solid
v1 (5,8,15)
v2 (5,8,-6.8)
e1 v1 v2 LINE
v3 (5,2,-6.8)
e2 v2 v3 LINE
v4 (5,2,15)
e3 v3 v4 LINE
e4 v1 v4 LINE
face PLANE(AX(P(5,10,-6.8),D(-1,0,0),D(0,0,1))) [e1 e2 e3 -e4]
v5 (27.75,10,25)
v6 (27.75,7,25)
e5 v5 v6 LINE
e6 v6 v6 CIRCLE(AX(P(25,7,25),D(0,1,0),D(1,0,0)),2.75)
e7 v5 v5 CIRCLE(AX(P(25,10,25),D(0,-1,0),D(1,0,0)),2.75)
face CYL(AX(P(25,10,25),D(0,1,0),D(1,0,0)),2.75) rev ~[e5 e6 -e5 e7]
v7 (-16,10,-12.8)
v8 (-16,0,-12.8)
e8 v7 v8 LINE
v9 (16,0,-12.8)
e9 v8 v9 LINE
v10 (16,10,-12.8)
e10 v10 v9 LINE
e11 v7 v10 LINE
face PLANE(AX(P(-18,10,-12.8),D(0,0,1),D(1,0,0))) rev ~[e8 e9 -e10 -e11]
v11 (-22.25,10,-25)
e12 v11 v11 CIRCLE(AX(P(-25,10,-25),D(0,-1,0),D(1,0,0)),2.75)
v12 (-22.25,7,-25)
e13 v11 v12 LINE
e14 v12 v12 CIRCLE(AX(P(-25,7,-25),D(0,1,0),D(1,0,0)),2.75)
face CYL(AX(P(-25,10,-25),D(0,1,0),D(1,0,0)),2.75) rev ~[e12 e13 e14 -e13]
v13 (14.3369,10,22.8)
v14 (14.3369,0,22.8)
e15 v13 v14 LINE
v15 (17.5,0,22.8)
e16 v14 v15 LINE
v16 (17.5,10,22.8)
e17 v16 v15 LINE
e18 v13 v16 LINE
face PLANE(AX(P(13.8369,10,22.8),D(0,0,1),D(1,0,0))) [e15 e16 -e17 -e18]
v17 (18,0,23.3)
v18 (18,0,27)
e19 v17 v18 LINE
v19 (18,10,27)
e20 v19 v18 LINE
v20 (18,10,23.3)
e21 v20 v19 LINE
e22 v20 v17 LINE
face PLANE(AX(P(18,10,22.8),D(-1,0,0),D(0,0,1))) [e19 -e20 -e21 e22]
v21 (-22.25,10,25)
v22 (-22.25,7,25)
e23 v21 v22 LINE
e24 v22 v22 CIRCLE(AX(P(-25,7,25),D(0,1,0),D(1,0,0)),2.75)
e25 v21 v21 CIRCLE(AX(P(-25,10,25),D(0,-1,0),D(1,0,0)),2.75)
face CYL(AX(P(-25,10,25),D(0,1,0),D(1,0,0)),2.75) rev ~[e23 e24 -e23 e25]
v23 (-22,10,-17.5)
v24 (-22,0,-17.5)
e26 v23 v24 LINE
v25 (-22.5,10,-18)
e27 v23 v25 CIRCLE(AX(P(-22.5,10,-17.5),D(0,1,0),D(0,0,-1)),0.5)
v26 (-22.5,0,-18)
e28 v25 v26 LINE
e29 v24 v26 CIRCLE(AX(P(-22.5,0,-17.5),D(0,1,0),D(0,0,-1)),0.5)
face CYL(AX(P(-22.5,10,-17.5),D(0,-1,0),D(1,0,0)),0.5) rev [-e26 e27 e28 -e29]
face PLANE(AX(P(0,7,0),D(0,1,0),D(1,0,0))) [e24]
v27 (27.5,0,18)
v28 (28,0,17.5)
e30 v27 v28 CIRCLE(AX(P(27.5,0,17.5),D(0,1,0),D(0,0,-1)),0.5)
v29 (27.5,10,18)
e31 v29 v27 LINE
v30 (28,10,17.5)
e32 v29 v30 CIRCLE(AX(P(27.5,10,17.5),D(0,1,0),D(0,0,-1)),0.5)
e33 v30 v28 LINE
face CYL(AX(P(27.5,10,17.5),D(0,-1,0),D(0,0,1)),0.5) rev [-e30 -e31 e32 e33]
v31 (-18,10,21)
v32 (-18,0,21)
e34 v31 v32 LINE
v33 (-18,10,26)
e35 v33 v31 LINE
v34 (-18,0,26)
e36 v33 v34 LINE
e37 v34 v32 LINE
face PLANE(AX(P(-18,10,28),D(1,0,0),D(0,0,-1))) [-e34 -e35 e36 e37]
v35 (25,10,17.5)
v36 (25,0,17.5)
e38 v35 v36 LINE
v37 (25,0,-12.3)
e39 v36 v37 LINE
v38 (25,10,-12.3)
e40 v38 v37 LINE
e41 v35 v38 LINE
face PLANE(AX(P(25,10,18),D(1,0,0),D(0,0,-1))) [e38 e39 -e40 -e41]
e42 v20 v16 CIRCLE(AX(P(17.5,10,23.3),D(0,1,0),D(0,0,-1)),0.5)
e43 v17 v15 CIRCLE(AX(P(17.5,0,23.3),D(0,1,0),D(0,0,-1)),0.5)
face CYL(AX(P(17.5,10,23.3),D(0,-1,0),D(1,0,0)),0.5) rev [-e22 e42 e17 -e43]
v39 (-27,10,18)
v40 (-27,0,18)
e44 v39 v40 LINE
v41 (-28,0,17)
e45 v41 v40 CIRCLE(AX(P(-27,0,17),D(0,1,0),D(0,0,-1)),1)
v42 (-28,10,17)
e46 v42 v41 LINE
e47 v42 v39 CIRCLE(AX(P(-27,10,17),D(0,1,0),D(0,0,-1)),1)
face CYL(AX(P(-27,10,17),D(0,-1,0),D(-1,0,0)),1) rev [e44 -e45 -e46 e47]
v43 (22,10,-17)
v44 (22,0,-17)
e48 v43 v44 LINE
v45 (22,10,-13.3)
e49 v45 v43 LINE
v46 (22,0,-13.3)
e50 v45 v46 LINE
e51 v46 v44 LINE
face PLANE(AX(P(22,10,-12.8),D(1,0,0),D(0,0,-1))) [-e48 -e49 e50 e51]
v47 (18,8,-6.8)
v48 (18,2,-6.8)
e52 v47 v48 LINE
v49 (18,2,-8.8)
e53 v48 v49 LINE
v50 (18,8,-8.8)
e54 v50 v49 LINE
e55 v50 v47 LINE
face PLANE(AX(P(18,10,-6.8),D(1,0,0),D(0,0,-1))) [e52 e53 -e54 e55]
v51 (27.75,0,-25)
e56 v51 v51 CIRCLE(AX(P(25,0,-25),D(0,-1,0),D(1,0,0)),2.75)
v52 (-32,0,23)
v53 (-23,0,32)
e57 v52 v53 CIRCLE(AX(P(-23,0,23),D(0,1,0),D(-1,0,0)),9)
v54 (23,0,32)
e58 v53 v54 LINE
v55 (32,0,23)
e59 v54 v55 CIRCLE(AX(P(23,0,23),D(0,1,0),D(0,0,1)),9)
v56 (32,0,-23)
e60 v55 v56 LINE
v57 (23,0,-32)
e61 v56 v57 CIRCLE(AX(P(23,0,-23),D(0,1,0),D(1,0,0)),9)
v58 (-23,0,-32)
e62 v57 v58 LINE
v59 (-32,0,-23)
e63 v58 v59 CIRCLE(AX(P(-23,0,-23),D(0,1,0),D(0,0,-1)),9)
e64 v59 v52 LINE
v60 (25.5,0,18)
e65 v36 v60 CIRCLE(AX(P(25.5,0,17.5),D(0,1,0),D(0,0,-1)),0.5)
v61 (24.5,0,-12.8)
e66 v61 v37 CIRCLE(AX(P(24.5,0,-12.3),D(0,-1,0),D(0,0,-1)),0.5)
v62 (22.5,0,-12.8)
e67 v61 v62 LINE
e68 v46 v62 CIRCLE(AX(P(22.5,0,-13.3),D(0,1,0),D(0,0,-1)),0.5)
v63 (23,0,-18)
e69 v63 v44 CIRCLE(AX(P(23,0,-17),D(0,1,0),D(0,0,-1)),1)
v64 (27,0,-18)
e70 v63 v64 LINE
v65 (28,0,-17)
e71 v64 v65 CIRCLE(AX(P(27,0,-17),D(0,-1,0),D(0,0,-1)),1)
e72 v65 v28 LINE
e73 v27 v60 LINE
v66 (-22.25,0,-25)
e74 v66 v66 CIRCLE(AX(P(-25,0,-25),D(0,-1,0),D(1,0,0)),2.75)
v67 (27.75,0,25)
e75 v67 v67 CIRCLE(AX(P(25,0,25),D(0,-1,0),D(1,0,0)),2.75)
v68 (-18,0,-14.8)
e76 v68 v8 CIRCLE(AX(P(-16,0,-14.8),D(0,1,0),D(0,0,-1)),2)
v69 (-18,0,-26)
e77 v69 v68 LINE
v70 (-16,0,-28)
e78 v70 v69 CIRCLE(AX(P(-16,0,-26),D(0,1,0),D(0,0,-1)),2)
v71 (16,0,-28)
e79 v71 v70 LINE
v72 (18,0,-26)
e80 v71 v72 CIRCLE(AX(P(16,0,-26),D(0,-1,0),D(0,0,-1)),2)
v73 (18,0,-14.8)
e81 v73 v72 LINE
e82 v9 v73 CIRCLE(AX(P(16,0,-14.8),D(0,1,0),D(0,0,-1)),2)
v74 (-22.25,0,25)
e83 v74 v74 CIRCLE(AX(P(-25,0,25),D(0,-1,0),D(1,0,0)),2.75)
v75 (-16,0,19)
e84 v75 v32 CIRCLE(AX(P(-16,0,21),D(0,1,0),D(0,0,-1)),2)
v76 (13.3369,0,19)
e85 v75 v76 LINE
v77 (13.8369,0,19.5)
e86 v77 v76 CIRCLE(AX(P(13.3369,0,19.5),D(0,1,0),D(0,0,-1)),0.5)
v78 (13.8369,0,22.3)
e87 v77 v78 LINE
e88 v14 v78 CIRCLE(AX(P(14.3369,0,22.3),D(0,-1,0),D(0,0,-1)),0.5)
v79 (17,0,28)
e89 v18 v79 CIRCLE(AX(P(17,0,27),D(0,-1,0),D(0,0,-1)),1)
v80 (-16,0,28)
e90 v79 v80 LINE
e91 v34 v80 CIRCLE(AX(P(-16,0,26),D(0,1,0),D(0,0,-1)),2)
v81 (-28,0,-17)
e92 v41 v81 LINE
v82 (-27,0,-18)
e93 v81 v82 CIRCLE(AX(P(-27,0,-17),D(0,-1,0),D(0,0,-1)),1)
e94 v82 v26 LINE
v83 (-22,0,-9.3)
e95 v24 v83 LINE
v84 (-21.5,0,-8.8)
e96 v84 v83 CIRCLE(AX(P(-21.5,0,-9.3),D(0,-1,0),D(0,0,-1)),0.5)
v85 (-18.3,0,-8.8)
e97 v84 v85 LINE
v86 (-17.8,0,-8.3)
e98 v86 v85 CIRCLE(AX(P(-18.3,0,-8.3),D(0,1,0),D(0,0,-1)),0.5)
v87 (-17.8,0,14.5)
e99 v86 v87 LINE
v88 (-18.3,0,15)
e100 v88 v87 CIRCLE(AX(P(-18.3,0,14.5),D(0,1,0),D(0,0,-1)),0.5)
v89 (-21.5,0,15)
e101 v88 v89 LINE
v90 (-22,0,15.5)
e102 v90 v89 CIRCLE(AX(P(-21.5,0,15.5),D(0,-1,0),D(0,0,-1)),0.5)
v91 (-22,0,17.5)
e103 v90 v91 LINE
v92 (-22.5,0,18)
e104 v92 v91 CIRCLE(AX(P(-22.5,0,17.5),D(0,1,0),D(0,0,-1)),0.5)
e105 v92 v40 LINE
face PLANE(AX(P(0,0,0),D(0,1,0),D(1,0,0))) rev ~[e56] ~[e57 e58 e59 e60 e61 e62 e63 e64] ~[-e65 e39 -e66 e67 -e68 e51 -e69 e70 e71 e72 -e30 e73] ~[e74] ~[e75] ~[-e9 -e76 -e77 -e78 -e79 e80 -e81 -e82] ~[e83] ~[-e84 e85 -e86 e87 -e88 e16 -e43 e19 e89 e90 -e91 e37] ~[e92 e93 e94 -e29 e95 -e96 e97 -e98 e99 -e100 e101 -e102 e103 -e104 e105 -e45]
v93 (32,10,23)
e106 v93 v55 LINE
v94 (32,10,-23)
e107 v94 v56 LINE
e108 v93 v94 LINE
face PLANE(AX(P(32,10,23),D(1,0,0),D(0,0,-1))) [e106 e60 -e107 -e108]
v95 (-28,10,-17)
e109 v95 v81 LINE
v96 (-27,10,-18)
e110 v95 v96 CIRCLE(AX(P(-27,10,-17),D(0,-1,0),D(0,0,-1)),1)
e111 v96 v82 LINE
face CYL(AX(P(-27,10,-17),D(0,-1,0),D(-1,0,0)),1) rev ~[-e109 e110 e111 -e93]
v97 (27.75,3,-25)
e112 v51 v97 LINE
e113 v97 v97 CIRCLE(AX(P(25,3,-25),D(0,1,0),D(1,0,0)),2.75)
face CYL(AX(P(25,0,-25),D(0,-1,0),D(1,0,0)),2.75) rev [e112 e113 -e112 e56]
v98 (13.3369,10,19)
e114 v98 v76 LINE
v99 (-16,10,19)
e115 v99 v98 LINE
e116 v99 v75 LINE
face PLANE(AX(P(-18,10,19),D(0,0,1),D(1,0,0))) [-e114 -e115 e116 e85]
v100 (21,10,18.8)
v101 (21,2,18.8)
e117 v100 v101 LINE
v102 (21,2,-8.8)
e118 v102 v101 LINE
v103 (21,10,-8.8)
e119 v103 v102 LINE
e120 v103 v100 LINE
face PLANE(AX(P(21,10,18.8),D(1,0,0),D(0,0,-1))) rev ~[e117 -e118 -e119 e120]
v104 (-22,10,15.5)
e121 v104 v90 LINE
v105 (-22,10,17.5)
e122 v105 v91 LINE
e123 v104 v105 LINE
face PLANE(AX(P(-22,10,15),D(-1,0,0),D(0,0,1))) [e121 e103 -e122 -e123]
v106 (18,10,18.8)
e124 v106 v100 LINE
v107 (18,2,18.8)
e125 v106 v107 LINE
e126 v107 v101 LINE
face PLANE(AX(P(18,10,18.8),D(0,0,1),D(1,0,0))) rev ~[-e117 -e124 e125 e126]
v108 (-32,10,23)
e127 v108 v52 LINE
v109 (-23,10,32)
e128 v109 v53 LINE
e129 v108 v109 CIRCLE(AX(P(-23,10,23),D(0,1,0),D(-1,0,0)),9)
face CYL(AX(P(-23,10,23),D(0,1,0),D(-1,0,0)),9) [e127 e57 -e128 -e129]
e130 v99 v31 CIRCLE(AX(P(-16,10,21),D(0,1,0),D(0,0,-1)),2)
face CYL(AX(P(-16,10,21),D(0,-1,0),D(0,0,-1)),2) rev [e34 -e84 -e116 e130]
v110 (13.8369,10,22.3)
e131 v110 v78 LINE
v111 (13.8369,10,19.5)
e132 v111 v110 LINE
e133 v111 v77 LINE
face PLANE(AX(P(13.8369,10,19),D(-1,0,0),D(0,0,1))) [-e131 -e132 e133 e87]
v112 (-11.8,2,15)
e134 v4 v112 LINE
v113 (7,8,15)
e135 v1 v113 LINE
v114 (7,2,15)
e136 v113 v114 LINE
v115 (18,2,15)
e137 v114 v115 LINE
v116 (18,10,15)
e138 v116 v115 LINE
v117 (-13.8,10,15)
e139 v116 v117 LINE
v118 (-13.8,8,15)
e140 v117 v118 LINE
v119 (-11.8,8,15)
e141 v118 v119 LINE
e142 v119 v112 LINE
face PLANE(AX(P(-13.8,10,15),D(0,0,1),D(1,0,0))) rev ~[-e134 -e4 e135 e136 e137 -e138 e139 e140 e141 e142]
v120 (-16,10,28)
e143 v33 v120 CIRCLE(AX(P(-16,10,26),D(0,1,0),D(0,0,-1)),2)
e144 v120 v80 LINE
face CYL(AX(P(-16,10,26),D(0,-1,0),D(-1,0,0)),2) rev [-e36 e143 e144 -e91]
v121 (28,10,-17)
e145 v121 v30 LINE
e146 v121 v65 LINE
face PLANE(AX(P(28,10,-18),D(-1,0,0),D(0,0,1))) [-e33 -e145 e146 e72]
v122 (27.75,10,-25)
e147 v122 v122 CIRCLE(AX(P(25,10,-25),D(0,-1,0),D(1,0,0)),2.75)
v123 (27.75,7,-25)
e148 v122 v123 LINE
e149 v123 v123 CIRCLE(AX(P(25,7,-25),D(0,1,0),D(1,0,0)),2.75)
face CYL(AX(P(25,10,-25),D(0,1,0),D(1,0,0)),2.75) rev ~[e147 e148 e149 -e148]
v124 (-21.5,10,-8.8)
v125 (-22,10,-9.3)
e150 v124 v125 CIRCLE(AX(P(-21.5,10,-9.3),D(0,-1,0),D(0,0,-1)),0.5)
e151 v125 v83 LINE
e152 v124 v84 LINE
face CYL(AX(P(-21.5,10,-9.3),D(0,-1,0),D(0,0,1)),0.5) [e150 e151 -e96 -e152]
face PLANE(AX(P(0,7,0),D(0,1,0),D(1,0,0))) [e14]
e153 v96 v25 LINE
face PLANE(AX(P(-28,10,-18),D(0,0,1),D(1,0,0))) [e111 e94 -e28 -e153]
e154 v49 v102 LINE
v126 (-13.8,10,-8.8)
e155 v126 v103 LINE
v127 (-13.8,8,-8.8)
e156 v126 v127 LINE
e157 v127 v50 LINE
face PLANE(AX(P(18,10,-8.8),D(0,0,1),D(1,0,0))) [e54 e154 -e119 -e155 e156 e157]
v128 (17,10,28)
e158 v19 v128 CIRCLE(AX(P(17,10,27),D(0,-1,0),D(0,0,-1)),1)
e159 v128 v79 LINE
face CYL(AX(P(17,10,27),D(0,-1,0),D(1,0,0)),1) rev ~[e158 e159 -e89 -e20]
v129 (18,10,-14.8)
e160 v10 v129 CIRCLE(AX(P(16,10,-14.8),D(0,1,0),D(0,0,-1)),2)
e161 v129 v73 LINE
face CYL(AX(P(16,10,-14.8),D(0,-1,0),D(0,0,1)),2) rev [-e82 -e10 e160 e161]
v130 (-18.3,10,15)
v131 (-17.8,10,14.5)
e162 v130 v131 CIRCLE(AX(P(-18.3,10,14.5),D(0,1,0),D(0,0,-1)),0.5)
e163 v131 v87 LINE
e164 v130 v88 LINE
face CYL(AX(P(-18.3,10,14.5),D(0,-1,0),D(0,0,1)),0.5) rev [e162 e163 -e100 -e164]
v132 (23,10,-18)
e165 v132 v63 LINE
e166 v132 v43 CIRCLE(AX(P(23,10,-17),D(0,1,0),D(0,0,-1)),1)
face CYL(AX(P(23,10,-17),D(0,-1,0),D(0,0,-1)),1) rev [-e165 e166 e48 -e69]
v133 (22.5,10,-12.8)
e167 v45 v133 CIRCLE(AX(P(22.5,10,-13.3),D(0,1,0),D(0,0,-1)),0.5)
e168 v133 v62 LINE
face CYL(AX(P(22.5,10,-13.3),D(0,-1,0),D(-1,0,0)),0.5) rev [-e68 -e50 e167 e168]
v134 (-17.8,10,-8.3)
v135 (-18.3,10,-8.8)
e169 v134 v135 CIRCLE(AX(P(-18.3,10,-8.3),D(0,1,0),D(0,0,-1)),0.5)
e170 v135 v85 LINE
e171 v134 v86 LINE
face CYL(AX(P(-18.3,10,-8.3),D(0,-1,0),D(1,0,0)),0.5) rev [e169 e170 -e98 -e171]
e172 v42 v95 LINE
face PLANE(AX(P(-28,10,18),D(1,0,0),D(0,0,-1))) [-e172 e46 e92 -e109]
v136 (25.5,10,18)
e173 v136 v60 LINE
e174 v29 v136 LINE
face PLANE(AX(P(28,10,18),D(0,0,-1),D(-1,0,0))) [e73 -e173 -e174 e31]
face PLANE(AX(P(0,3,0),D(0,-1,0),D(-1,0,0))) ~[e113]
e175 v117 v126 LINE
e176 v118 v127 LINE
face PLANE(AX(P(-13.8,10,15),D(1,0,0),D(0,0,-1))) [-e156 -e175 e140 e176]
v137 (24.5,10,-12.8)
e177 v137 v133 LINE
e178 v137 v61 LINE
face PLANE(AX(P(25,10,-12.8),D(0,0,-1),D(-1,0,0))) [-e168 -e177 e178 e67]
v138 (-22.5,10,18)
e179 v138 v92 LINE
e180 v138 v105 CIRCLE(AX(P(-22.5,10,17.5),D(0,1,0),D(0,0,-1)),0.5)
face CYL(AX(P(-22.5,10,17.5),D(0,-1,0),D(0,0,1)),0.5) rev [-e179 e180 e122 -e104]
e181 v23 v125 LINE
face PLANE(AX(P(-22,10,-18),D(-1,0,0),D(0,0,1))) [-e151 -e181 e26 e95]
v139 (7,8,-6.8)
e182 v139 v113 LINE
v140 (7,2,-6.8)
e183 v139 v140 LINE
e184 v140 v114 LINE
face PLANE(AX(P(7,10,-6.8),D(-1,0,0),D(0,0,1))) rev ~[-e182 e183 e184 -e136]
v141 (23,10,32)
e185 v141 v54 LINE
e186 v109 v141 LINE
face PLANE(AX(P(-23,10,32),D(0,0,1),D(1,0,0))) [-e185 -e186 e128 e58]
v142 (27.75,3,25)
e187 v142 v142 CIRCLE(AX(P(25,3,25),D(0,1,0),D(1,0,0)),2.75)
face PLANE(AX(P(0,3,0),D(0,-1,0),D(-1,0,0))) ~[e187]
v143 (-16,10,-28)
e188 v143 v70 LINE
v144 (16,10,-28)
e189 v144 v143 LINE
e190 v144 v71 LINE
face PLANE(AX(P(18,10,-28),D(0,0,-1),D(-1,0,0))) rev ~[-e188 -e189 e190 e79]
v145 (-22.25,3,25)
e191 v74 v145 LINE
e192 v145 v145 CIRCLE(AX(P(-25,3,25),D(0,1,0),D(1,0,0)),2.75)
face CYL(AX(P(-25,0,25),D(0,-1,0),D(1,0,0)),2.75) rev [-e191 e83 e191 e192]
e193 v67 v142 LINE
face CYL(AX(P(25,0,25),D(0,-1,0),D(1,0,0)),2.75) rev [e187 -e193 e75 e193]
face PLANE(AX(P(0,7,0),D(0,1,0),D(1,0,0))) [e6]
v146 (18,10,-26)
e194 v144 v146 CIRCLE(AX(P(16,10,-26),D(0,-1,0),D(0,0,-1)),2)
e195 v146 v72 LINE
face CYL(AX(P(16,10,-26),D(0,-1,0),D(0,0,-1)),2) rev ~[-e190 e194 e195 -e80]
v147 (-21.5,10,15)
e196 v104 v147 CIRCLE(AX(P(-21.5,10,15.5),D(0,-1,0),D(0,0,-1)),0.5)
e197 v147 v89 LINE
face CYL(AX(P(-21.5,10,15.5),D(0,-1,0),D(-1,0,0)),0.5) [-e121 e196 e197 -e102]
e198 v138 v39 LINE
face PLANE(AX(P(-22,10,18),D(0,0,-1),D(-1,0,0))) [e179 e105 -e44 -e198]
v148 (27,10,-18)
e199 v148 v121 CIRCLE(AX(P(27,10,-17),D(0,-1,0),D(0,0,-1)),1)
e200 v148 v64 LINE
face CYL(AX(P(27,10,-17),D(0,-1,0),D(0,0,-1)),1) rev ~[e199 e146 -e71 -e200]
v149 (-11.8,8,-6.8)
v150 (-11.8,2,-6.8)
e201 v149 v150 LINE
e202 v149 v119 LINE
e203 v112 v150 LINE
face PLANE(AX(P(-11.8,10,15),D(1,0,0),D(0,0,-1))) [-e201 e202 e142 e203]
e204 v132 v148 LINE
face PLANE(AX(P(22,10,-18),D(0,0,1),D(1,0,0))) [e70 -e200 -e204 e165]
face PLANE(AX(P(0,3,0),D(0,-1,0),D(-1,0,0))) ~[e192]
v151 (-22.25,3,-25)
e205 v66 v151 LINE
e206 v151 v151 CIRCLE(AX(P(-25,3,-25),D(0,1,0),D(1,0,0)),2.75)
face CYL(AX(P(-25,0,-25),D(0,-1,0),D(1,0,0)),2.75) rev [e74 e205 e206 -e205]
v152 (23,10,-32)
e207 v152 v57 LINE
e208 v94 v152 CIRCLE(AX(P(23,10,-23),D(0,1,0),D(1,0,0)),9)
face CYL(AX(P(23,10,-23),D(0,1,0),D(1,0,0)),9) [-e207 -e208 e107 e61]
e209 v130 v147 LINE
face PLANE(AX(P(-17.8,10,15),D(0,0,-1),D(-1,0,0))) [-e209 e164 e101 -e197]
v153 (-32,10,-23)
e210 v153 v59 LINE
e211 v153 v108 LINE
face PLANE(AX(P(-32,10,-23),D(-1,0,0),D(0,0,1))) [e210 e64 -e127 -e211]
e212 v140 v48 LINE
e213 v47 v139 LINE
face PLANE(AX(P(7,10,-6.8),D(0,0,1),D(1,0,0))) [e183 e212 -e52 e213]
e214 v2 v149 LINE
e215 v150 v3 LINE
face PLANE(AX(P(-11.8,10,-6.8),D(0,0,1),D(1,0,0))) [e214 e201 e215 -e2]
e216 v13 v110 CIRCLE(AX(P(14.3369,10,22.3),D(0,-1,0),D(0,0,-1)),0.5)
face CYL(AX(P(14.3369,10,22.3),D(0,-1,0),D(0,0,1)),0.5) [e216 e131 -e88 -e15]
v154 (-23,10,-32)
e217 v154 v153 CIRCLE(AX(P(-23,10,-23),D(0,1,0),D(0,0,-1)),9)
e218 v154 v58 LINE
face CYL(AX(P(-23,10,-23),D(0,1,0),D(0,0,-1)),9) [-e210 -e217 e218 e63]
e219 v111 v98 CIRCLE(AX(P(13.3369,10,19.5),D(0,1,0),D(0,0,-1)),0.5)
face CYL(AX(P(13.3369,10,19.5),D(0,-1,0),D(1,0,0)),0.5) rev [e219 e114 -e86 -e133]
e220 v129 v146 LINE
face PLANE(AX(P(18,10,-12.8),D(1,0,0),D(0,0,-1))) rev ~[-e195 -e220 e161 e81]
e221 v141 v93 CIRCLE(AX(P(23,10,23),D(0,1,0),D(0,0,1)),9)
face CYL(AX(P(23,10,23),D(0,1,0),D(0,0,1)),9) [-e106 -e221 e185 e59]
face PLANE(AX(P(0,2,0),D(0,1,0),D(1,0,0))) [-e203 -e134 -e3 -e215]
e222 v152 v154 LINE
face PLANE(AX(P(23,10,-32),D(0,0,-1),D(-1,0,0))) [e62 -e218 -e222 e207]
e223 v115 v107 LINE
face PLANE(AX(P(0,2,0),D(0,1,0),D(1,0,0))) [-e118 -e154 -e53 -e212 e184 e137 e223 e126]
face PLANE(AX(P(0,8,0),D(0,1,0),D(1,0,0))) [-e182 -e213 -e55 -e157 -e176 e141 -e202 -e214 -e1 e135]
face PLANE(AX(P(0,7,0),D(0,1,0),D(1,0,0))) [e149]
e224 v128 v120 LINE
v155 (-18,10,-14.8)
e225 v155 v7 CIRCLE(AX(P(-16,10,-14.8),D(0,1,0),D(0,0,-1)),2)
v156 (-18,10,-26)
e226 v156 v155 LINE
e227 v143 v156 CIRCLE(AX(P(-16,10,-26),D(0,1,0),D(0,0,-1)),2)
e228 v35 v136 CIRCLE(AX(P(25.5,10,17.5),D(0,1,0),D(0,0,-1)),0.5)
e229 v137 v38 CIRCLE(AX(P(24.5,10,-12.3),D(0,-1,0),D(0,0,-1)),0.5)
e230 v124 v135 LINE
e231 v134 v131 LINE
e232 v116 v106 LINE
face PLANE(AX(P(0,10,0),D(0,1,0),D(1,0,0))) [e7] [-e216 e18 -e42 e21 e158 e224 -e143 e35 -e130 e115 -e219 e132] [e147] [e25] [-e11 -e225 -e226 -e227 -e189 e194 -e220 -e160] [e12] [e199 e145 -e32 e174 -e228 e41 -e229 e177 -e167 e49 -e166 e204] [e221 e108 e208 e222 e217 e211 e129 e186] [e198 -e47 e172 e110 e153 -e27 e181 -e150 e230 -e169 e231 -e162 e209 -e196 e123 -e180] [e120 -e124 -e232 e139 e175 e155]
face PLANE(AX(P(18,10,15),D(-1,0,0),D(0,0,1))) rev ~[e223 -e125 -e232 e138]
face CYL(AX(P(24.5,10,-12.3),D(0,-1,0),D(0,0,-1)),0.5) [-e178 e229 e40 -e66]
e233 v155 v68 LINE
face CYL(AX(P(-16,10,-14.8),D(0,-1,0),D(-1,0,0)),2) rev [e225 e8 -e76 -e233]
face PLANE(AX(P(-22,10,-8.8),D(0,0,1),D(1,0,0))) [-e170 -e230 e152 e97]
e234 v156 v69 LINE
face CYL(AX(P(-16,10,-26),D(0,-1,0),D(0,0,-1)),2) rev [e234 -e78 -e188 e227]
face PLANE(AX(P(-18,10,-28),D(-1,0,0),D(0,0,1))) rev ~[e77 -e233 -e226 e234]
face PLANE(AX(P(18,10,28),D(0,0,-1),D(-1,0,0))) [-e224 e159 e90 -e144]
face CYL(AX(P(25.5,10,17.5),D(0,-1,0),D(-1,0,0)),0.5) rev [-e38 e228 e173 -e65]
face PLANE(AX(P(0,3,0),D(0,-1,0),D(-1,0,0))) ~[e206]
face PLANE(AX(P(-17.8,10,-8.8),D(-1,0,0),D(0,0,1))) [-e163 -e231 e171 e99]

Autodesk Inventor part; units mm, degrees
ref_plane "YZ Plane" through (0, 0, 0) normal (1, 0, 0) x (0, 1, 0)
ref_plane "XZ Plane" through (0, 0, 0) normal (0, 1, 0) x (-1, 0, 0)
sketch "Sketch1" plane through (0, 0, 0) normal (0, 1, 0) x (-1, 0, 0)
  line L0 (30, 30) -> (-30, 30)
  line L1 (-30, 30) -> (-30, -30)
  line L2 (-30, -30) -> (30, -30)
  line L3 (30, -30) -> (30, 30)
  line L4 (30, 30) -> (-30, -30) construction
  line L5 (-30, 30) -> (30, -30) construction
  point P0 (0, 0)
  dimension "d0" = 60
  dimension "d1" = 60
extrude "Extrusion1" add sketch "Sketch1" along normal blind 10
fillet "Fillet1" radius 7 4 edges at (30, 5, 30) (30, 5, -30) (-30, 5, 30) (-30, 5, -30)
sketch "Sketch2" plane through (0, 10, 0) normal (0, 1, 0) x (1, 0, 0)
  line L0 (-30, 30) -> (30, 30)
  line L1 (30, 30) -> (30, -30)
  line L2 (30, -30) -> (-30, -30)
  line L3 (-30, -30) -> (-30, 30)
  line L4 (-30, 30) -> (30, -30) construction
  line L5 (30, 30) -> (-30, -30) construction
  line L6 (25, -25) -> (25, 25)
  line L7 (25, 25) -> (-25, 25)
  line L8 (-25, 25) -> (-25, -25)
  line L9 (-25, -25) -> (25, -25)
  circle A0 centre (25, -25) radius 2.75
  circle A1 centre (-25, -25) radius 2.75
  circle A2 centre (25, 25) radius 2.75
  circle A3 centre (-25, 25) radius 2.75
  point P0 (0, 0)
  dimension "d5" = 5
  dimension "d6" = 5.5
  dimension "d7" = 5.5
  dimension "d8" = 5.5
  dimension "d9" = 5.5
extrude "Extrusion2" cut sketch "Sketch2" against normal blind 3 contours L9 A0 L6 | L6 A0 L9 | A2 L7 L6 | L6 L7 A2 | A1 L8 L9 | L9 L8 A1 | A3 L8 L7 | L7 L8 A3
sketch "Sketch7" plane through (0, 10, 0) normal (0, 1, 0) x (1, 0, 0)
  line L0 (-23, 30) -> (23, 30)
  line L1 (30, 23) -> (30, -23)
  line L2 (23, -30) -> (-23, -30)
  line L3 (-30, -23) -> (-30, 23)
  line L4 (-30, 30) -> (30, -30) construction
  line L5 (30, 30) -> (-30, -30) construction
  arc A0 (-23, 30) -> (-30, 23) centre (-23, 23) ccw
  arc A1 (-30, -23) -> (-23, -30) centre (-23, -23) ccw
  arc A2 (23, -30) -> (30, -23) centre (23, -23) ccw
  arc A3 (30, 23) -> (23, 30) centre (23, 23) ccw
  line L6 (23, 32) -> (-23, 32)
  arc A4 (-23, 32) -> (-32, 23) centre (-23, 23) ccw
  line L7 (-32, 23) -> (-32, -23)
  arc A5 (-32, -23) -> (-23, -32) centre (-23, -23) ccw
  line L8 (-23, -32) -> (23, -32)
  arc A6 (23, -32) -> (32, -23) centre (23, -23) ccw
  line L9 (32, -23) -> (32, 23)
  arc A7 (32, 23) -> (23, 32) centre (23, 23) ccw
  point P0 (0, 0)
  dimension "d47" = 7
  dimension "d48" = 2
extrude "Extrusion6" add sketch "Sketch7" against normal blind 10
sketch "Sketch23" plane through (0, 10, 0) normal (0, 1, 0) x (1, 0, 0)
  line L0 (-25, 25) -> (25, 25)
  line L1 (25, 25) -> (25, -25)
  line L2 (25, -25) -> (-25, -25)
  line L3 (-25, -25) -> (-25, 25)
  line L4 (-25, 25) -> (25, -25) construction
  line L5 (25, 25) -> (-25, -25) construction
  line L6 (21, -21) -> (21, 21)
  line L7 (21, 21) -> (-21, 21)
  line L8 (-21, 21) -> (-21, -21)
  line L9 (-21, -21) -> (21, -21)
  line L10 (-13.8, -15) -> (-13.8, 8.8)
  line L11 (-13.8, 8.8) -> (21, 8.8)
  line L12 (-11.8, 6.8) -> (-11.8, -15)
  line L13 (18, 8.8) -> (18, 6.8)
  line L14 (-13.8, -15) -> (18, -15)
  line L15 (7, 3.1073) -> (7, -15)
  line L16 (7, 3.1073) -> (7, 6.8)
  line L17 (5, -15) -> (5, 3.1073)
  line L18 (5, 3.1073) -> (5, 6.8)
  line L19 (5, 6.8) -> (-11.8, 6.8)
  line L20 (18, -15) -> (18, -18.6)
  line L21 (18, -18.6) -> (21, -18.6)
  line L22 (18, 6.8) -> (7, 6.8)
  point P0 (0, 0)
  point P1 (21, -15)
  dimension "d215" = 50
  dimension "d216" = 50
  dimension "d217" = 4
  dimension "d218" = 6
  dimension "d220" = 34.8
  dimension "d221" = 23.8
  dimension "d224" = 3
  dimension "d225" = 14
  dimension "d226" = 2
  dimension "d227" = 3
  dimension "d228" = 3.6
extrude "Extrusion21" cut sketch "Sketch23" against normal blind 2 contours L13 L22 L16 L15 L14 L17 L18 L19 L12 L10 L11
sketch "Sketch24" plane through (0, 10, 0) normal (0, 1, 0) x (1, 0, 0)
  line L0 (-11.8, 6.8) -> (5, 6.8)
  line L1 (5, 6.8) -> (5, -15)
  line L2 (5, -15) -> (-11.8, -15)
  line L3 (-11.8, -15) -> (-11.8, 6.8)
  point P0 (0, 0)
extrude "Extrusion22" cut sketch "Sketch24" against normal blind 8
sketch "Sketch25" plane through (0, 10, 0) normal (0, 1, 0) x (1, 0, 0)
  line L0 (7, 6.8) -> (18, 6.8)
  line L1 (18, 6.8) -> (18, 8.8)
  line L2 (18, 8.8) -> (21, 8.8)
  line L3 (7, 6.8) -> (7, -15)
  line L4 (21, 8.8) -> (21, -15)
  line L5 (7, -15) -> (18, -15)
  line L6 (18, -15) -> (18, -18.8)
  line L7 (18, -18.8) -> (21, -18.8)
  line L8 (21, -18.8) -> (21, -15)
  point P0 (0, 0)
  point P1 (21, -17.8036)
  dimension "d233" = 3
  dimension "d234" = 3
  dimension "d235" = 3.8
extrude "Extrusion23" cut sketch "Sketch25" against normal blind 8
sketch "Sketch26" plane through (0, 10, 0) normal (0, 1, 0) x (1, 0, 0)
  line L0 (23, 32) -> (-23, 32) projected
  line L1 (-32, 23) -> (-32, -23) projected
  line L2 (32, -23) -> (32, 23) projected
  line L3 (-13.8, 8.8) -> (21, 8.8) projected
  line L4 (-18, 28) -> (-18, 12.8)
  line L5 (-18, 12.8) -> (18, 12.8)
  line L6 (18, 12.8) -> (18, 28)
  line L7 (18, 28) -> (-18, 28)
  line L8 (-23, -32) -> (23, -32) projected
  line L9 (21, 8.8) -> (21, -18.8) projected
  line L10 (28, 18) -> (28, -18)
  line L11 (28, -18) -> (25, -18)
  line L12 (25, -18) -> (25, 8.8)
  line L13 (25, 8.8) -> (25, 12.8)
  line L14 (25, 12.8) -> (22, 12.8)
  line L15 (22, 12.8) -> (22, 18)
  line L16 (22, 18) -> (28, 18)
  line L17 (21, -18.8) -> (18, -18.8) projected
  line L18 (18, -15) -> (-13.8, -15) projected
  line L19 (18, -28) -> (-18, -28)
  line L20 (-18, -28) -> (-18, -19)
  line L21 (-18, -19) -> (13.8369, -19)
  line L22 (13.8369, -19) -> (13.8369, -22.8)
  line L23 (13.8369, -22.8) -> (18, -22.8)
  line L24 (18, -22.8) -> (18, -28)
  line L25 (-13.8, -15) -> (-13.8, 8.8) projected
  line L26 (-28, 18) -> (-22, 18)
  line L27 (-22, 18) -> (-22, 8.8)
  line L28 (-22, 8.8) -> (-17.8, 8.8)
  line L29 (-17.8, 8.8) -> (-17.8, -15)
  line L30 (-17.8, -15) -> (-22, -15)
  line L31 (-22, -15) -> (-22, -18)
  line L32 (-22, -18) -> (-28, -18)
  line L33 (-28, -18) -> (-28, 18)
  point P0 (0, 0)
  dimension "d238" = 4
  dimension "d239" = 4
  dimension "d240" = 14
  dimension "d241" = 14
  dimension "d242" = 4
  dimension "d243" = 4
  dimension "d244" = 14
  dimension "d245" = 4
  dimension "d246" = 14
  dimension "d247" = 4
  dimension "d248" = 4
  dimension "d249" = 4
  dimension "d250" = 4
  dimension "d251" = 14
  dimension "d252" = 14
  dimension "d253" = 4
  dimension "d254" = 4
  dimension "d255" = 4
  dimension "d256" = 14
  dimension "d257" = 4
  dimension "d258" = 14
  dimension "d259" = 4
  dimension "d260" = 4
extrude "Extrusion24" cut sketch "Sketch26" against normal through all
fillet "Fillet7" radius 0.5 13 edges at (-22, 5, -18) (-22, 5, -8.8) (-17.8, 5, -8.8) (-22, 5, 15) (-17.8, 5, 15) (-22, 5, 18) (22, 5, -12.8) (25, 5, -12.8) (28, 5, 18) (25, 5, 18) (13.8369, 5, 19) (13.8369, 5, 22.8) (18, 5, 22.8)
fillet "Fillet7" radius 1 5 edges at (22, 5, -18) (28, 5, -18) (-28, 5, -18) (-28, 5, 18) (18, 5, 28)
fillet "Fillet7" radius 2 6 edges at (-18, 5, -28) (18, 5, -28) (18, 5, -12.8) (-18, 5, -12.8) (-18, 5, 19) (-18, 5, 28)
ref_plane "Work Plane6" through (0, 5, 0) normal (0, 1, 0) x (1, 0, 0)
mirror "Mirror6" about plane through (0, 5, 0) normal (0, 1, 0) of "Extrusion2"
properties part number "16 pin holder"
